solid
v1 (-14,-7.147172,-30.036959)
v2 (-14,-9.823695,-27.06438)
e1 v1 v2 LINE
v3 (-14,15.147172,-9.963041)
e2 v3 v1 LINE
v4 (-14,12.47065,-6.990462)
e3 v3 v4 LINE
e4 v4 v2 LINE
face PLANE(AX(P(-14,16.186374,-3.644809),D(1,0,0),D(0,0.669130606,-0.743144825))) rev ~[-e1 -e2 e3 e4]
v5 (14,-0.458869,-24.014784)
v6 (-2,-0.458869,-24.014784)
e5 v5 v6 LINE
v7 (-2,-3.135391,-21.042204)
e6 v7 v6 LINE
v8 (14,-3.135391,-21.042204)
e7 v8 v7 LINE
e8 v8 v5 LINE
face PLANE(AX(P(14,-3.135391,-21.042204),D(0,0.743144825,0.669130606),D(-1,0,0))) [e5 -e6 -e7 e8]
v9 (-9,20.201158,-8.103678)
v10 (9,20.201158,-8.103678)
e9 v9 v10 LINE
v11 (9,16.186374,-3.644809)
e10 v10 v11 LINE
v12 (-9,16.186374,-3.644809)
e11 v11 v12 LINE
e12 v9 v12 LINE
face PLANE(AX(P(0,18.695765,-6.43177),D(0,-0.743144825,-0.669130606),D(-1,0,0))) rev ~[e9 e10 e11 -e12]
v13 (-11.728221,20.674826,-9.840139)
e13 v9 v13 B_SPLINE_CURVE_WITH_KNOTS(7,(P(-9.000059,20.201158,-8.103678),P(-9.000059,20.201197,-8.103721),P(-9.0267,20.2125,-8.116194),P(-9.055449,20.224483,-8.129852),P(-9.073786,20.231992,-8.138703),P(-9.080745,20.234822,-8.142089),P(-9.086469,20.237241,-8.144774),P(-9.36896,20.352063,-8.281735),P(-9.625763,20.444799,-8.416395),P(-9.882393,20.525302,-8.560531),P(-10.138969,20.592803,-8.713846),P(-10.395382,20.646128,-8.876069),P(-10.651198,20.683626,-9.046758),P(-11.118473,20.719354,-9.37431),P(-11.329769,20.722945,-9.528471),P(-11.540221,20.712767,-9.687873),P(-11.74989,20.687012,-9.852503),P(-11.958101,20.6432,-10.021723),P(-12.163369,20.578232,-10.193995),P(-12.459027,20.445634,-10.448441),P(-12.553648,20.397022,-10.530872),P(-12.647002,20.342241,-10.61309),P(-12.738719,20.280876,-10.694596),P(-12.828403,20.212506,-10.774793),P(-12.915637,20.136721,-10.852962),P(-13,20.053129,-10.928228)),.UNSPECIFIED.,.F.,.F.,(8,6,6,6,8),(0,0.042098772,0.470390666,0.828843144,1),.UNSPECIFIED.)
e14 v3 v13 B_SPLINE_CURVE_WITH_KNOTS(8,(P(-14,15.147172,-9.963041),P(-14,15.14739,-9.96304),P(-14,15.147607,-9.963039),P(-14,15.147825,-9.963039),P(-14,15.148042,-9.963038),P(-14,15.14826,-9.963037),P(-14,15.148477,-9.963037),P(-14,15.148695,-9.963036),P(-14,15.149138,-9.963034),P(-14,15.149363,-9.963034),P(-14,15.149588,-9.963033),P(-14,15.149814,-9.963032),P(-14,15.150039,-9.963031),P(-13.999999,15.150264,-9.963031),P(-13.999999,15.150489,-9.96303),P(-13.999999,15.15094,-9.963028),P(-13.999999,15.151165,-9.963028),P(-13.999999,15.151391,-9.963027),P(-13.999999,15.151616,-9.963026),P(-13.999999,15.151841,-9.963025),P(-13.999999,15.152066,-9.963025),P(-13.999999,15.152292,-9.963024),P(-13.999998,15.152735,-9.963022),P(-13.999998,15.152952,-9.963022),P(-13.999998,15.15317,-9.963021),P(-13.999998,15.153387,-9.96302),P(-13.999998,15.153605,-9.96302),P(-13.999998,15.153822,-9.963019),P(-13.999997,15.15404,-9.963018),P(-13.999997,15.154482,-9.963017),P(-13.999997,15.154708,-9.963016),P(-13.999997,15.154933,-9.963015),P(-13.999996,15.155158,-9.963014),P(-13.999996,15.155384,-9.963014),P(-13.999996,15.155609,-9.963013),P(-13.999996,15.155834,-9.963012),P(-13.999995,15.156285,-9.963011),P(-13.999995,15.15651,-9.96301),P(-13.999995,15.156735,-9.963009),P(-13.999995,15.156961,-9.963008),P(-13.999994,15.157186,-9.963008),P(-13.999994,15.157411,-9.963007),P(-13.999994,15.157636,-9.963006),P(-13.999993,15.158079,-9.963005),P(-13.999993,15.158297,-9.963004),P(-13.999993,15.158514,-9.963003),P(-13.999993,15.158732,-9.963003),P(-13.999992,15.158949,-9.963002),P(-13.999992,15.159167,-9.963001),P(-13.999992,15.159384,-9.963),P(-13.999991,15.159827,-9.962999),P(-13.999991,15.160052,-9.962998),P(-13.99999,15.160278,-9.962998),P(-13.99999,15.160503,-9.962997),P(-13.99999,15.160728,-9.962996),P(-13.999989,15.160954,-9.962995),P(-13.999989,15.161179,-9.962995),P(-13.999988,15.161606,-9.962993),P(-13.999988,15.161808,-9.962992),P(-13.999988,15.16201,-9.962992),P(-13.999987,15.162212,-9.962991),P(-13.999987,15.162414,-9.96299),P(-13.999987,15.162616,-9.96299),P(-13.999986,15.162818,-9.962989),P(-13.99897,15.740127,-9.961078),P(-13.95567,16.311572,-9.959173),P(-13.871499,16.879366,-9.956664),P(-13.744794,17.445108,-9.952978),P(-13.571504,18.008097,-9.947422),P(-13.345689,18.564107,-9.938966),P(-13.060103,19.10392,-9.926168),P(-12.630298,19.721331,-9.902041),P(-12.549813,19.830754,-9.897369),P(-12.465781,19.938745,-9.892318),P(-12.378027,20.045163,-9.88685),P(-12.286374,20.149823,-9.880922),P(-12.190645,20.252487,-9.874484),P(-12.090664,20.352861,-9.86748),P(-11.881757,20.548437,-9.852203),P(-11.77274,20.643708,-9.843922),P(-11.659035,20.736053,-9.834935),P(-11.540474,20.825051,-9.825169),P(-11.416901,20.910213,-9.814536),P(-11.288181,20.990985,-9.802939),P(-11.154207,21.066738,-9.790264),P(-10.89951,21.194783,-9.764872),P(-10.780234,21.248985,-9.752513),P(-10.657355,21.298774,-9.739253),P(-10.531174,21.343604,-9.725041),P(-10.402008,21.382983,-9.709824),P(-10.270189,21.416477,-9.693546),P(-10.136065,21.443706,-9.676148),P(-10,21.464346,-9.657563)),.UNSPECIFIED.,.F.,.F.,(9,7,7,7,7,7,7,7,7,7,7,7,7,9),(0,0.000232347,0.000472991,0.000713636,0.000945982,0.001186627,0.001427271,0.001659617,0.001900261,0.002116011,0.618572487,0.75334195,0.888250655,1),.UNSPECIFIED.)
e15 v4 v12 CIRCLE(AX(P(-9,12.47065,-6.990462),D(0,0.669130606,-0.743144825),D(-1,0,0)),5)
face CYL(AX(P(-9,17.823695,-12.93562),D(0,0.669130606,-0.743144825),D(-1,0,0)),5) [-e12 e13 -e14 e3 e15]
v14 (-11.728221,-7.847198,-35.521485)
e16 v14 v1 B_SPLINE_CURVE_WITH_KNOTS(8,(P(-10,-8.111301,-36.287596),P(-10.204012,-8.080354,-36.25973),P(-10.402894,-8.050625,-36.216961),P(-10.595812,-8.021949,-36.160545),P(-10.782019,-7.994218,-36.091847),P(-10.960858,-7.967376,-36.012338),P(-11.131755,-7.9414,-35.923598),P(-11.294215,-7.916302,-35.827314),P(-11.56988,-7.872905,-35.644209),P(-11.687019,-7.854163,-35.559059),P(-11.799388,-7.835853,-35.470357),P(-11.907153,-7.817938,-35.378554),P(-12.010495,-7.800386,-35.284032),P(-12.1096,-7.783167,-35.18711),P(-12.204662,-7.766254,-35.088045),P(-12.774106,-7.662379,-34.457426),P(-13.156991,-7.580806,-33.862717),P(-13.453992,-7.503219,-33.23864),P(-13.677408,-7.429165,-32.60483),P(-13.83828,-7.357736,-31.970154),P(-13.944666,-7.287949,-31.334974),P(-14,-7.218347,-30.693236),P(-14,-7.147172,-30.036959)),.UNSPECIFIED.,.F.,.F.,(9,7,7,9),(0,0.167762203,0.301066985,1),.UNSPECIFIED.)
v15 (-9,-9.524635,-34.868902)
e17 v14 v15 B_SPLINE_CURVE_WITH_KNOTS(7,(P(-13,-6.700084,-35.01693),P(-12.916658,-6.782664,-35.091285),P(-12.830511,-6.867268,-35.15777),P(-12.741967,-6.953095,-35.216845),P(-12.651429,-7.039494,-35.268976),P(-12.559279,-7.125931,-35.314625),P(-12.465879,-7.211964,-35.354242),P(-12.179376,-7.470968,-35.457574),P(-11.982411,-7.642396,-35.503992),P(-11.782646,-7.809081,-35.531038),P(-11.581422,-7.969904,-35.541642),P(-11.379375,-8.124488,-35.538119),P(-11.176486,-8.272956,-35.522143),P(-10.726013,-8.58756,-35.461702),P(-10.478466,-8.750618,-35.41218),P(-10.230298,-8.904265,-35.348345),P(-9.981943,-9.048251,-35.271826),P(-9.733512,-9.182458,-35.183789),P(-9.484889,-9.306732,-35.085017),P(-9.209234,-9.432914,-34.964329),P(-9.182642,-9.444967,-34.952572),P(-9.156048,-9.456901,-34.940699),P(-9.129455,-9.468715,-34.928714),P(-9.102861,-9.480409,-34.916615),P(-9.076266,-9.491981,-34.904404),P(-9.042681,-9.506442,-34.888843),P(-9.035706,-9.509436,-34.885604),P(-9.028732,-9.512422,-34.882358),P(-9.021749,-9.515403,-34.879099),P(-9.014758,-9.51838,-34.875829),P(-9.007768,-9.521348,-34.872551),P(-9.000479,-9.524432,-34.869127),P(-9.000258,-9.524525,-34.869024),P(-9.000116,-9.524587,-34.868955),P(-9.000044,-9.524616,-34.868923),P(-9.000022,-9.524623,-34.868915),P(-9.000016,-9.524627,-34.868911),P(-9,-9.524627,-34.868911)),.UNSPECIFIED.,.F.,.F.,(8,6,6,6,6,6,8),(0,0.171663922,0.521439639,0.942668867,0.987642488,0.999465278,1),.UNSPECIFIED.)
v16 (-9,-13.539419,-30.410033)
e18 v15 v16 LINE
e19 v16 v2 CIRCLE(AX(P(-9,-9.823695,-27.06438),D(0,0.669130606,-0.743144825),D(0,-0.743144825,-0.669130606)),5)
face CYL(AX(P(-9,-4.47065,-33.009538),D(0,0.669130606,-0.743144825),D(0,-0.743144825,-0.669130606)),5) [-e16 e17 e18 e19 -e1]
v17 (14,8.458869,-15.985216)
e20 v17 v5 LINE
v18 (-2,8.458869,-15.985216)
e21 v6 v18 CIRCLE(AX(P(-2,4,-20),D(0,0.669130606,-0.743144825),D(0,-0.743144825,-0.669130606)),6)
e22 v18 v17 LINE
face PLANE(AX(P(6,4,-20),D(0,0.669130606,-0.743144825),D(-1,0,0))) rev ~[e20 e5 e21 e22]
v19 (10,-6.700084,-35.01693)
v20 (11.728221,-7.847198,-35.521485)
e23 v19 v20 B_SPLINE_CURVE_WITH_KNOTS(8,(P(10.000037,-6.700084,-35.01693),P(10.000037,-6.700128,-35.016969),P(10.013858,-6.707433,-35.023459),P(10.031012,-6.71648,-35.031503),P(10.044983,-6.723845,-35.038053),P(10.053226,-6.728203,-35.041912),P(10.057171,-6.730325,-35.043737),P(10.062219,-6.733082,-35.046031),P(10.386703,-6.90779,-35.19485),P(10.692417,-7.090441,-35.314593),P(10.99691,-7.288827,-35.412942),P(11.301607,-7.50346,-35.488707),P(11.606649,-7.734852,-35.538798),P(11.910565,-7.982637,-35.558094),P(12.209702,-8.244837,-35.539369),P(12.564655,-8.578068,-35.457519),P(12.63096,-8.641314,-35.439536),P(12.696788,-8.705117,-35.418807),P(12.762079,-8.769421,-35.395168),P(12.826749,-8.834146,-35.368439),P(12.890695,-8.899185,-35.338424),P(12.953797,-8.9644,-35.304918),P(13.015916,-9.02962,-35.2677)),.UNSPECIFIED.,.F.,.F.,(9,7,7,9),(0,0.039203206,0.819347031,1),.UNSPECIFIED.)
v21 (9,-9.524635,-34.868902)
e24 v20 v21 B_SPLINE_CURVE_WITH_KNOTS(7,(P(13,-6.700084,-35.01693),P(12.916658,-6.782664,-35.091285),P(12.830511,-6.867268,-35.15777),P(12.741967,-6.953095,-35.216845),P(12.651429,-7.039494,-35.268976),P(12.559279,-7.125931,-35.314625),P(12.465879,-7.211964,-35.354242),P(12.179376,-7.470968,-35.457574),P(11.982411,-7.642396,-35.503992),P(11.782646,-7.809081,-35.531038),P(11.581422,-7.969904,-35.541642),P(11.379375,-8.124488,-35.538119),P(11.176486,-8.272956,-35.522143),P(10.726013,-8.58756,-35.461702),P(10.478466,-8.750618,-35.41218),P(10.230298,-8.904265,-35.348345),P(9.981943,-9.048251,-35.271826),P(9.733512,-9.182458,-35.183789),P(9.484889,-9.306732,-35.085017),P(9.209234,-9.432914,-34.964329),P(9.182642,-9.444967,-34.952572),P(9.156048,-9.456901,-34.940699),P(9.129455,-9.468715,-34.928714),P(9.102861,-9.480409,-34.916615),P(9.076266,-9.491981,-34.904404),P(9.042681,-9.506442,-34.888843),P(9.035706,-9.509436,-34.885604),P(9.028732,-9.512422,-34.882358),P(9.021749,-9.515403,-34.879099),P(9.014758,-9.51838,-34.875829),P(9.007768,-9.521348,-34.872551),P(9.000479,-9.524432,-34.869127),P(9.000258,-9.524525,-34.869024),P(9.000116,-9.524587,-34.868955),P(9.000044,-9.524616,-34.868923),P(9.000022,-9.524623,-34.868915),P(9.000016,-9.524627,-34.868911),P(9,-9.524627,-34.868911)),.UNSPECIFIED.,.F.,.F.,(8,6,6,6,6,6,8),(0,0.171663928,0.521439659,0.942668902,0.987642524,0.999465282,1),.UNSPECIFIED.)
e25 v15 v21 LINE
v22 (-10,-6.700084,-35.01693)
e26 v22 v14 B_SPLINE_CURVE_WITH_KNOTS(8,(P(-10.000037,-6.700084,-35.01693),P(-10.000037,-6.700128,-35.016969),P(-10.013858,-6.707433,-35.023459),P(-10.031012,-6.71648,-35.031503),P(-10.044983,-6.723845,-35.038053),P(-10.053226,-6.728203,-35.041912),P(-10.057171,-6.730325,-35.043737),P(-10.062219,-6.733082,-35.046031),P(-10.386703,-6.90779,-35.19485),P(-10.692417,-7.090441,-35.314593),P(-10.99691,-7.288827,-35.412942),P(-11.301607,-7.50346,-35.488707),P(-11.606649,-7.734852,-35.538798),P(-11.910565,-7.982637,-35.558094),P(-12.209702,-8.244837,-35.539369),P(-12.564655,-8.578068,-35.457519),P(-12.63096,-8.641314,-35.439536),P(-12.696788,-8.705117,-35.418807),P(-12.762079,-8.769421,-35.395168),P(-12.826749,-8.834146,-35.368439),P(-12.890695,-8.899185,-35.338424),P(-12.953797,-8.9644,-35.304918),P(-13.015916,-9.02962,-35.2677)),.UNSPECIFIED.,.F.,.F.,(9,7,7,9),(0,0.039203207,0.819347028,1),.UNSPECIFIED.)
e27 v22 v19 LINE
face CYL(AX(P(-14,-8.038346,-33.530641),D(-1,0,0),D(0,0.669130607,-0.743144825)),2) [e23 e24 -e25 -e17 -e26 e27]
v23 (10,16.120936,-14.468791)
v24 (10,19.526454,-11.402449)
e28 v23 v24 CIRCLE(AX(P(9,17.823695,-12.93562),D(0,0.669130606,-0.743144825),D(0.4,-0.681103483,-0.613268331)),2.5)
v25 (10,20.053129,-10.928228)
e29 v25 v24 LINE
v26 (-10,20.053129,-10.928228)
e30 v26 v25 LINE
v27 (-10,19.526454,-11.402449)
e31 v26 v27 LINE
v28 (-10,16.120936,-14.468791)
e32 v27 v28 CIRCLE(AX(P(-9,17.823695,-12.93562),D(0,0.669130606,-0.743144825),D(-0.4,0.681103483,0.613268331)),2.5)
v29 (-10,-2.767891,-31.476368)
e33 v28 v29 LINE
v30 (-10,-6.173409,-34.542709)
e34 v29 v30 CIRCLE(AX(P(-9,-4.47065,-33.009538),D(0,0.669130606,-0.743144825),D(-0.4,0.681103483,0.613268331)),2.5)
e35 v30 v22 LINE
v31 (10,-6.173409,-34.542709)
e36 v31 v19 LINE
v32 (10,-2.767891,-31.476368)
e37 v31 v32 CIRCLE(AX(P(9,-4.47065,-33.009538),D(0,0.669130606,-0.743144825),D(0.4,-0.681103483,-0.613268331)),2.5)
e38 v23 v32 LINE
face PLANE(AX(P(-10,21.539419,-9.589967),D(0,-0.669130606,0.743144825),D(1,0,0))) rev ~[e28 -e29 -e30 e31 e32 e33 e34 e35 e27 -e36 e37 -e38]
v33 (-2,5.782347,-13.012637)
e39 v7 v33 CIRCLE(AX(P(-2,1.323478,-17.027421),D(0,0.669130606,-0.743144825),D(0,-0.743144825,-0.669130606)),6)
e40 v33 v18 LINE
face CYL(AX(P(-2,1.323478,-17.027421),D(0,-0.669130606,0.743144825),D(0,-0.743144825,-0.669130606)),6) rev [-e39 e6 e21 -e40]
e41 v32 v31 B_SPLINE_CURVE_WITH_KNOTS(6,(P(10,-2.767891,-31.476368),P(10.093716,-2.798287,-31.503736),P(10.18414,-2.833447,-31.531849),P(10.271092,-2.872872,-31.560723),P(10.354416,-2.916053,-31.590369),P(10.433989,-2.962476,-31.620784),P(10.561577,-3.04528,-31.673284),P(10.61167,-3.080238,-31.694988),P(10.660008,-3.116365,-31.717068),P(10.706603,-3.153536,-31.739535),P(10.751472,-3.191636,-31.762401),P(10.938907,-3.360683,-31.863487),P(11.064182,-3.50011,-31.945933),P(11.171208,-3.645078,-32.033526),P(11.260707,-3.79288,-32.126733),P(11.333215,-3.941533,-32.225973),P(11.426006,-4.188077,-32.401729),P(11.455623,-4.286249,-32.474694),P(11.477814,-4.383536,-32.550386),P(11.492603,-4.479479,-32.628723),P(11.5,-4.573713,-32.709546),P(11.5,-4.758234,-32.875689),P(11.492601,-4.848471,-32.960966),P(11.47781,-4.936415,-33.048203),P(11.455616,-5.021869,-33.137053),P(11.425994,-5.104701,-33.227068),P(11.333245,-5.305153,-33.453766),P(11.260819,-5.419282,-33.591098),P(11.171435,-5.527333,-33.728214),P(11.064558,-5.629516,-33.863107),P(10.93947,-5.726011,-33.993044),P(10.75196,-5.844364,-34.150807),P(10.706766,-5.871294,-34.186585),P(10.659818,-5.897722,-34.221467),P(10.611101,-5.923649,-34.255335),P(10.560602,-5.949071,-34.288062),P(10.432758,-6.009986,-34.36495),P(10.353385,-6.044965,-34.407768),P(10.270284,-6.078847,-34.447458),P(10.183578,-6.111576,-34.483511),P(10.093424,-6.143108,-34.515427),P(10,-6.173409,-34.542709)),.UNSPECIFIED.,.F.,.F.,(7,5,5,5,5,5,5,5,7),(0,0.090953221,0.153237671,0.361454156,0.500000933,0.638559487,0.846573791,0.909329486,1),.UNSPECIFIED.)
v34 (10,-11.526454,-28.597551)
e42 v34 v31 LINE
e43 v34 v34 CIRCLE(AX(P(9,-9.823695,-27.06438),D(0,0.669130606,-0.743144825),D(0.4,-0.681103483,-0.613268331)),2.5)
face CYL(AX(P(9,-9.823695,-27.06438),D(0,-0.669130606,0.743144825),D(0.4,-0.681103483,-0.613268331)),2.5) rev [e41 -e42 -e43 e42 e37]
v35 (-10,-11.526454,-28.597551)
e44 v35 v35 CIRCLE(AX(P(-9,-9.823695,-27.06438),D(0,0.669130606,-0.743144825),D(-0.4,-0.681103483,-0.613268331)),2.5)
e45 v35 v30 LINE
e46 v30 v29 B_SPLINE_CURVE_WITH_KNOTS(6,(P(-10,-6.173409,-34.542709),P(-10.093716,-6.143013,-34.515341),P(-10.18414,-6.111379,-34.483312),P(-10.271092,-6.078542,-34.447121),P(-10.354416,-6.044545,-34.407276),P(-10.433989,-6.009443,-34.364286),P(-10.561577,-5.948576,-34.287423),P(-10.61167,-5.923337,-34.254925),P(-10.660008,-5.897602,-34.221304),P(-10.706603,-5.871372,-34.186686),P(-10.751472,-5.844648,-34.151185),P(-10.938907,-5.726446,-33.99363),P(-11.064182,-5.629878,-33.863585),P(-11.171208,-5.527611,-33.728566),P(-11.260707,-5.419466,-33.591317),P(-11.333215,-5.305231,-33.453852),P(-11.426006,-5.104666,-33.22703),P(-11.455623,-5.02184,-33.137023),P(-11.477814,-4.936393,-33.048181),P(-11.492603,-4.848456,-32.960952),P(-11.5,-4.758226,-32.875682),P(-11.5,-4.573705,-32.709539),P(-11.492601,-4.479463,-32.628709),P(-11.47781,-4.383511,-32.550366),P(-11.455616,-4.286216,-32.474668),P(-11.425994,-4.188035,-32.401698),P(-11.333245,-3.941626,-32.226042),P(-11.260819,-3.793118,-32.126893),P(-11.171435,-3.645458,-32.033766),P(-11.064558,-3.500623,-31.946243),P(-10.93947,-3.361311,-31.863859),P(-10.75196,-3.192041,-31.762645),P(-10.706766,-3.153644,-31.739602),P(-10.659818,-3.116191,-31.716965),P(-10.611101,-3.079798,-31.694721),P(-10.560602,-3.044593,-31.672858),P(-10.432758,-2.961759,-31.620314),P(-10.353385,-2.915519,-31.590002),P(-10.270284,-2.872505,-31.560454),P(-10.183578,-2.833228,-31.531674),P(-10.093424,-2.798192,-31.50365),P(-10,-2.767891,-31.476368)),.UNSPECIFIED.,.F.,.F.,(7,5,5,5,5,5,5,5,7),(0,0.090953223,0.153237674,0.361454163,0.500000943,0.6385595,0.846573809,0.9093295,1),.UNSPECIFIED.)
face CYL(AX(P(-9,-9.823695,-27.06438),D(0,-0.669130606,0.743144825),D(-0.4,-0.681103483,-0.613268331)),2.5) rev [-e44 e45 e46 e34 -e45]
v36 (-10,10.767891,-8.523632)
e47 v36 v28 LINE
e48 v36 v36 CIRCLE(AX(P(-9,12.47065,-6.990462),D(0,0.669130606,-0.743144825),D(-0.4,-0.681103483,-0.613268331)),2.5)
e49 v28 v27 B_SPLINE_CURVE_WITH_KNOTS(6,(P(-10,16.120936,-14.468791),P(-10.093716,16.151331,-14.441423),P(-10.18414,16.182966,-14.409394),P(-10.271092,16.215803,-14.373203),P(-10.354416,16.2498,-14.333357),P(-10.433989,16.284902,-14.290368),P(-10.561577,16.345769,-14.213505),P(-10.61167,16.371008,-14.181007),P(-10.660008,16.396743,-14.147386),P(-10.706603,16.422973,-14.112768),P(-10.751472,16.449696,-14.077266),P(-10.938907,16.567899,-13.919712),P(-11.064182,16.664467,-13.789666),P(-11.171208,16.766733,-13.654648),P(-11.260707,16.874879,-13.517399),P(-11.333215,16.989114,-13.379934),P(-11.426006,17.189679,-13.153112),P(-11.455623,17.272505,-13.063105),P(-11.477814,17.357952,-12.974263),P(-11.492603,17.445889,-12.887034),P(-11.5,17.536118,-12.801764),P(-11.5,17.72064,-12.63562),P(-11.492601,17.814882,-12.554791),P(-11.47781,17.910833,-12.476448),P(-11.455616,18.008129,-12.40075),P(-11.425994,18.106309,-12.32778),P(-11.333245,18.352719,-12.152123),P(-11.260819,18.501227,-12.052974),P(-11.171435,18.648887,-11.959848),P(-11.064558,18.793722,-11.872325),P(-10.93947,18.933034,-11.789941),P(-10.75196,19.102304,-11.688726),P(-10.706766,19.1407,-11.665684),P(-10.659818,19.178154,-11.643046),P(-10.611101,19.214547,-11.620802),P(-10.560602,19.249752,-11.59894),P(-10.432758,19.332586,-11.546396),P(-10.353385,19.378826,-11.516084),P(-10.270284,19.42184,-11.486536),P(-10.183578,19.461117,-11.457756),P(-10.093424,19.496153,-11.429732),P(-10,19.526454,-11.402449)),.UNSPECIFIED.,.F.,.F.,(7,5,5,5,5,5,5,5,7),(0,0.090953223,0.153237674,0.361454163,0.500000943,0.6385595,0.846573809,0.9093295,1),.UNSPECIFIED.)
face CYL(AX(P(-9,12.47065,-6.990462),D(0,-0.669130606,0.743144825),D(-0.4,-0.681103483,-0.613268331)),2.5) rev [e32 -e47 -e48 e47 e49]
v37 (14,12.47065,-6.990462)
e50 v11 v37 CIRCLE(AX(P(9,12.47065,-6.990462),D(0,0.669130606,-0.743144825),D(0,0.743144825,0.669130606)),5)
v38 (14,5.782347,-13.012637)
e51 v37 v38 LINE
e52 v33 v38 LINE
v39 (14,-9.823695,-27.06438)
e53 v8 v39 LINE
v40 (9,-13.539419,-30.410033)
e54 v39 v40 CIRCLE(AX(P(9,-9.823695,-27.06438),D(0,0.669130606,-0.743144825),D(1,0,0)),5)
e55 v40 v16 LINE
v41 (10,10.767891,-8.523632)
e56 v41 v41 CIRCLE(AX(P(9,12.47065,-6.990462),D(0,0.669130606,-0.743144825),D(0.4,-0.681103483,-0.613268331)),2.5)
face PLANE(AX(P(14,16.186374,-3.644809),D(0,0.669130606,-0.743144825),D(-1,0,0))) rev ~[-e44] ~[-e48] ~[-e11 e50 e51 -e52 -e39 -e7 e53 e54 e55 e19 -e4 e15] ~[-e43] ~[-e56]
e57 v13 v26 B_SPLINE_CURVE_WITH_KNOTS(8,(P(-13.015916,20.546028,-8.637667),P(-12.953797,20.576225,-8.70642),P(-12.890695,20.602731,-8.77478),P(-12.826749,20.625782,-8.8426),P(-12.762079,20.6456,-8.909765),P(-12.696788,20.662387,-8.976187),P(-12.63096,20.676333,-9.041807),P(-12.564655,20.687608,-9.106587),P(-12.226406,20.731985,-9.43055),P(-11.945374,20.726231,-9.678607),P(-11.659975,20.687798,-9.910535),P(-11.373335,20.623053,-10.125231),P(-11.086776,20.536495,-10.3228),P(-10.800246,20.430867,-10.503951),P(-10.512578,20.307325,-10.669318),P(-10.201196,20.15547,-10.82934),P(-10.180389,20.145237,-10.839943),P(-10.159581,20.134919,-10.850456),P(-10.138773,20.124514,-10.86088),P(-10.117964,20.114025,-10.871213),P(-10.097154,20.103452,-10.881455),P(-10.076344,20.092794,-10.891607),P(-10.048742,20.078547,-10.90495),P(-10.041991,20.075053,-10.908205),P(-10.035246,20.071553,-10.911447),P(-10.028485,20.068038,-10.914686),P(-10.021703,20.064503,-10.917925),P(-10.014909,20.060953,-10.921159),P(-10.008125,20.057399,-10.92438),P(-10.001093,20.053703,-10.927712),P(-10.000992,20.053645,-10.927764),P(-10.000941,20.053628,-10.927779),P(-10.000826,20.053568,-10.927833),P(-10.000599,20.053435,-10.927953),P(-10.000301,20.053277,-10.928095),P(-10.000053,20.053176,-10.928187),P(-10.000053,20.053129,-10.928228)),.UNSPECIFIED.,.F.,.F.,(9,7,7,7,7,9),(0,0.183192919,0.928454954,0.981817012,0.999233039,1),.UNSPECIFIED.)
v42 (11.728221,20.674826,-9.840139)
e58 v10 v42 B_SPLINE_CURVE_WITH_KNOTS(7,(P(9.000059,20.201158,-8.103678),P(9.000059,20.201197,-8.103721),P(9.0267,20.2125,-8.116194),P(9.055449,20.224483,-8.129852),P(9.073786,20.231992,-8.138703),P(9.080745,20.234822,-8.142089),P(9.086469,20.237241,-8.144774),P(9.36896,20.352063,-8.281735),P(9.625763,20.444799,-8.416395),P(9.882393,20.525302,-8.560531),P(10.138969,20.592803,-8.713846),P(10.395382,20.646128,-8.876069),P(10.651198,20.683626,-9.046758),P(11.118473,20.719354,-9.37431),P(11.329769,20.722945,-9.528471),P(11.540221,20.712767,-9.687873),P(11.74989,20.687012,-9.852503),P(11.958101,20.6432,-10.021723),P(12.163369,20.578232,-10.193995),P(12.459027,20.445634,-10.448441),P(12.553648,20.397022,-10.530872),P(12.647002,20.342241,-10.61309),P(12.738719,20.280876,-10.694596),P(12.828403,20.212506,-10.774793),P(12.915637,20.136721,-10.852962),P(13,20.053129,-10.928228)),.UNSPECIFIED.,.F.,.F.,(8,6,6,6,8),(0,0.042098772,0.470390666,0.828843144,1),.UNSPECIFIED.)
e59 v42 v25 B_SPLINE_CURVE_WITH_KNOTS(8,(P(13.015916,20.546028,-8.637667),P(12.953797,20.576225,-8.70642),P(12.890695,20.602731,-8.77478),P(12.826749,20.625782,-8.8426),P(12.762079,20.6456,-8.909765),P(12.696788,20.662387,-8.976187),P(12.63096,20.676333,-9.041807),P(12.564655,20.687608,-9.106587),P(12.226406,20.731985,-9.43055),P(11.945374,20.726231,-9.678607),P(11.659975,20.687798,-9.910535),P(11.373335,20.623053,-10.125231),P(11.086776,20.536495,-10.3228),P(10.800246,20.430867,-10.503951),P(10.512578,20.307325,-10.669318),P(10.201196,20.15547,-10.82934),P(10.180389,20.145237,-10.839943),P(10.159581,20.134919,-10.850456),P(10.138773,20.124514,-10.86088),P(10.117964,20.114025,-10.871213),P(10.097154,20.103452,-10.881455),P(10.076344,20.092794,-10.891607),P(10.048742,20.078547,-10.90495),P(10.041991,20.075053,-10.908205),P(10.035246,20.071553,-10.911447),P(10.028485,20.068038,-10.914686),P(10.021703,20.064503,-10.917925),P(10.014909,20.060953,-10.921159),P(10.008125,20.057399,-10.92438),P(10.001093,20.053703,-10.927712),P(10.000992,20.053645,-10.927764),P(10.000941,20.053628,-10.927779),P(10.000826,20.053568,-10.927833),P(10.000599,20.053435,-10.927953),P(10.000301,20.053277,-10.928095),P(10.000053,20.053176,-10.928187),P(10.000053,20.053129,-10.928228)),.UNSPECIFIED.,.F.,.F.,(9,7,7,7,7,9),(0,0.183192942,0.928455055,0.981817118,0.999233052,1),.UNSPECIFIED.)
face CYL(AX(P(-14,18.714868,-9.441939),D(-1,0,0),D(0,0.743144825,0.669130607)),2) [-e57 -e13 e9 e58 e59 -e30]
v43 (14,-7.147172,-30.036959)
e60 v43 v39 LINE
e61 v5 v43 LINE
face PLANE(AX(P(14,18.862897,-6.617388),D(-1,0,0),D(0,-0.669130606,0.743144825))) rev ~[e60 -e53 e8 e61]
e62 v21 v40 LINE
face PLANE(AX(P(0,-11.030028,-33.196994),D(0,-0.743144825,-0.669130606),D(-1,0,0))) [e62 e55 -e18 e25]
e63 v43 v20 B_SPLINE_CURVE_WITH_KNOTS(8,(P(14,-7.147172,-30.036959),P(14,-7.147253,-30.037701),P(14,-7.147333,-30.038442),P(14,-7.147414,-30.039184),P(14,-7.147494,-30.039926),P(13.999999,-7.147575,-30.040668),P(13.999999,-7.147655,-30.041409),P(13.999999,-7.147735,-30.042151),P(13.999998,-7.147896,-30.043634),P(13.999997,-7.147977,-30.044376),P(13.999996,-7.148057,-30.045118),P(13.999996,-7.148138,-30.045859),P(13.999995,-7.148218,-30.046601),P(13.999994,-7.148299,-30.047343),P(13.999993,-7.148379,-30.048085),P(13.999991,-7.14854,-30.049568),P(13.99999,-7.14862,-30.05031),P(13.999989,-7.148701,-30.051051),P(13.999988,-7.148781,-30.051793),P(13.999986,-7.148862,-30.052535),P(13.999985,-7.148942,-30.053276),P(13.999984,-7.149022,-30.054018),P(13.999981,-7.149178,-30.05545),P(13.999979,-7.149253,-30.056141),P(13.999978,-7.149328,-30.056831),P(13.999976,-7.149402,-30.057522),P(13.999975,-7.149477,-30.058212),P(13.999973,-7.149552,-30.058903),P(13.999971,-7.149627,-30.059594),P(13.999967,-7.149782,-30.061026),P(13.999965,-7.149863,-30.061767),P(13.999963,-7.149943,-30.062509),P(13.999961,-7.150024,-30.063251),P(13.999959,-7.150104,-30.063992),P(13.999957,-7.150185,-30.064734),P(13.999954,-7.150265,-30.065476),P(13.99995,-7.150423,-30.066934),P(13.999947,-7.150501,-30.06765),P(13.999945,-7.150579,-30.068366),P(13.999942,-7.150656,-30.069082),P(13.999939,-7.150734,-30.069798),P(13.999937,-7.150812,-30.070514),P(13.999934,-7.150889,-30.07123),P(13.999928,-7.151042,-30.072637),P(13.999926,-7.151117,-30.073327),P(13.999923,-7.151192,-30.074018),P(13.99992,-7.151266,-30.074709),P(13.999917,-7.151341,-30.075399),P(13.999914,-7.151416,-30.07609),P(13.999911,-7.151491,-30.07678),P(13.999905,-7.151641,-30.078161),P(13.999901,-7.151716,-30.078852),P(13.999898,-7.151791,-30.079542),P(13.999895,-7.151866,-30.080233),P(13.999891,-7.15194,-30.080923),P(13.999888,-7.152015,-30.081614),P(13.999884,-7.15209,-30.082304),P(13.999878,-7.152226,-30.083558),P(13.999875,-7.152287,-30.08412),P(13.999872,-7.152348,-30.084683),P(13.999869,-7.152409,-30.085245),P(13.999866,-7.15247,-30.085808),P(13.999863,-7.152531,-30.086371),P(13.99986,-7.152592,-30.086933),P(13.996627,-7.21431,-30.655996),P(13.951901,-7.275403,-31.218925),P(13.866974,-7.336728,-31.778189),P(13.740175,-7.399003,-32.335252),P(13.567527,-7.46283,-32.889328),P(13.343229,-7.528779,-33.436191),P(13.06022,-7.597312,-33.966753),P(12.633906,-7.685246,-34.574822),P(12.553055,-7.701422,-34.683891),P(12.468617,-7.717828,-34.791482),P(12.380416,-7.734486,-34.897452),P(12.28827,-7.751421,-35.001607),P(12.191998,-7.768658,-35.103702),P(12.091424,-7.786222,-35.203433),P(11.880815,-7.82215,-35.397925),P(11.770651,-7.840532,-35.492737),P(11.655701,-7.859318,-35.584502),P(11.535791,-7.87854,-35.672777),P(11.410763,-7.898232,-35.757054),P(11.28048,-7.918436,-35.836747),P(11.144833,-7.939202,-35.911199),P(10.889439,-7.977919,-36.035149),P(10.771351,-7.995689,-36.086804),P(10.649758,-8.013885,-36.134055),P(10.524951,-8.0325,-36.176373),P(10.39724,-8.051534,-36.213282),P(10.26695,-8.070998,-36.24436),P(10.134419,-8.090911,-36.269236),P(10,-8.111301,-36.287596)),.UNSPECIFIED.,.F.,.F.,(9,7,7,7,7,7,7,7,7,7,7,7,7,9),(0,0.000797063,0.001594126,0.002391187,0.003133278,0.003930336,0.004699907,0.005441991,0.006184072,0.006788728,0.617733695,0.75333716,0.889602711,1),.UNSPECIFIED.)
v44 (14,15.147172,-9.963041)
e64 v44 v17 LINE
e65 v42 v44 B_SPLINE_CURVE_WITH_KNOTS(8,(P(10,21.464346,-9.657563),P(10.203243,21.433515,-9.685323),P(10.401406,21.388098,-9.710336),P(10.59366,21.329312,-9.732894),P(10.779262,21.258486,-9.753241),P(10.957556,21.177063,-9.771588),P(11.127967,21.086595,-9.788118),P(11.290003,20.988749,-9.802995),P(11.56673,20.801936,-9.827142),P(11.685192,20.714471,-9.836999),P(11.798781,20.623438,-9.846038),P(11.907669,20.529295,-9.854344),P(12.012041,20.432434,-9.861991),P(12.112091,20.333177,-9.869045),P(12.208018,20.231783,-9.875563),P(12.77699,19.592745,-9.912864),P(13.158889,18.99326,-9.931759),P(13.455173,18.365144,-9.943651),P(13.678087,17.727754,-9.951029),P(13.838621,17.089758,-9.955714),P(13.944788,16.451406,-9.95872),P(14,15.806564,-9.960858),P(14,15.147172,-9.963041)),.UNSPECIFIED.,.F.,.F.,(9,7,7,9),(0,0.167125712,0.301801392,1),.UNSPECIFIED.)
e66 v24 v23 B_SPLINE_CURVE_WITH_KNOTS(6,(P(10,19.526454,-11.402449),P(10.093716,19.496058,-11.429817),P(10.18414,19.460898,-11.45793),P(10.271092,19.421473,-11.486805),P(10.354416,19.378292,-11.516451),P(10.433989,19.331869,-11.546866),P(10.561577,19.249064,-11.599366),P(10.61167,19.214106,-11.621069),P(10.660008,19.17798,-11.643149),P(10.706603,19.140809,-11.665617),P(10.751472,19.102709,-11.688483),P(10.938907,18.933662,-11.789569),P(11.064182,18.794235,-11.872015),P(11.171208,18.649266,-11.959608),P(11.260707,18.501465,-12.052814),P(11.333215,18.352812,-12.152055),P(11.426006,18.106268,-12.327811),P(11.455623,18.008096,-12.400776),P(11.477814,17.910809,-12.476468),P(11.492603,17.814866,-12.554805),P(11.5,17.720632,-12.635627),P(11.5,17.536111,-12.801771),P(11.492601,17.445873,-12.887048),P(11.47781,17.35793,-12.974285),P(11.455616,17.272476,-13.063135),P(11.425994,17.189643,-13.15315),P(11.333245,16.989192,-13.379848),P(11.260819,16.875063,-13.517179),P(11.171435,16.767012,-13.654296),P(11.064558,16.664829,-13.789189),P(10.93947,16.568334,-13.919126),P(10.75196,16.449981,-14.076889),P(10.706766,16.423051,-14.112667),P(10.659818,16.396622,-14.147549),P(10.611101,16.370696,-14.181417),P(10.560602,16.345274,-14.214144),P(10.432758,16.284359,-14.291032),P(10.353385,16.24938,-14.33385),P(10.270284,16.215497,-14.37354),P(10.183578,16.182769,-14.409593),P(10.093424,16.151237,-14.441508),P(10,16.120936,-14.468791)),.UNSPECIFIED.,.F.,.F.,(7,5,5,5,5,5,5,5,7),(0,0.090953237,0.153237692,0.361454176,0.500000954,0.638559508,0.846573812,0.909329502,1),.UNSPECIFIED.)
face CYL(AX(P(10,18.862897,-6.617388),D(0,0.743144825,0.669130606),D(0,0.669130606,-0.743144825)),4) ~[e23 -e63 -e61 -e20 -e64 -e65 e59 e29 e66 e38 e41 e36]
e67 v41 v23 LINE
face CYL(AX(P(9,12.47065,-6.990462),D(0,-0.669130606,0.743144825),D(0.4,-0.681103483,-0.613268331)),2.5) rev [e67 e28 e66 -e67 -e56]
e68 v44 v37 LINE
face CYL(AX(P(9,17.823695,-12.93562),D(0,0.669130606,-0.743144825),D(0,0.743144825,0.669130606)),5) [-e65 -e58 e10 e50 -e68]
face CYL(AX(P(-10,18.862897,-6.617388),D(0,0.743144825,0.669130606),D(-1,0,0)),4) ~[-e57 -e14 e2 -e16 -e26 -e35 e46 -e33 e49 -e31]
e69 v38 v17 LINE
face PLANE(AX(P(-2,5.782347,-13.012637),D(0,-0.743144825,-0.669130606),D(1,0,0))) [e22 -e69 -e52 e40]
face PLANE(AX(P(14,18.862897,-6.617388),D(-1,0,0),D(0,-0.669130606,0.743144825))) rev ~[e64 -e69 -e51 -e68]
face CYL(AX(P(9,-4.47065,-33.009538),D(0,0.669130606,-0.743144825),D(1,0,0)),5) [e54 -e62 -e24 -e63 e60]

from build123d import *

# Parameters (mm, degrees)
EXTRUDE_1_DEPTH     = 40
SKETCH_3_R          = 2.5
CUT_EXTRUDE_1_DEPTH = 44.127717306
SKETCH_5_OUTSIDE_W  = 39.896
SKETCH_5_OUTSIDE_H  = 51.896
CUT_EXTRUDE_3_DEPTH = 44.127717449
CUT_EXTRUDE_4_DEPTH = 4
MOVE_BODY_1_ANGLE   = 48
SKETCH_7_OUTSIDE_W  = 45.818
SKETCH_7_OUTSIDE_H  = 48.186
CUT_EXTRUDE_6_DEPTH = 50


with BuildPart() as part:
    # 草图2 → 凸台-拉伸1 (new body)
    with BuildSketch(Plane.XY):
        with BuildLine():
            Line((14, 0), (-14, 0))
            Line((-14, 0), (-14, 4))
            ThreePointArc((-14, 4), (-12.828427125, 6.828427125), (-10, 8))
            Line((-10, 8), (10, 8))
            ThreePointArc((10, 8), (12.828427125, 6.828427125), (14, 4))
            Line((14, 4), (14, 0))
        make_face()
    extrude(amount=-EXTRUDE_1_DEPTH)

    # 草图3 → 切除-拉伸1 (cut, through all)
    with BuildSketch(Plane(origin=(0, 0, 0), x_dir=(1, 0, 0), z_dir=(0, 1, 0))):
        with Locations(Location((-9, 35, 0), (0, 0, 113.578178478))):
            Circle(SKETCH_3_R)
        with Locations(Location((9, 35, 0), (0, 0, 66.421821522))):
            Circle(SKETCH_3_R)
        with Locations(Location((-9, 5, 0), (0, 0, 113.578178478))):
            Circle(SKETCH_3_R)
        with Locations(Location((9, 5, 0), (0, 0, 66.421821522))):
            Circle(SKETCH_3_R)
    extrude(amount=CUT_EXTRUDE_1_DEPTH, mode=Mode.SUBTRACT)

    # 草图5 outside → 切除-拉伸3 (cut, through all)
    with BuildSketch(Plane(origin=(0, 8, 0), x_dir=(1, 0, 0), z_dir=(0, 1, 0))):
        with Locations((0, 20)):
            Rectangle(SKETCH_5_OUTSIDE_W, SKETCH_5_OUTSIDE_H)
        with BuildLine():
            Line((14, 5), (14, 35))
            ThreePointArc((14, 35), (12.535533906, 38.535533906), (9, 40))
            Line((9, 40), (-9, 40))
            ThreePointArc((-9, 40), (-12.535533906, 38.535533906), (-14, 35))
            Line((-14, 35), (-14, 5))
            ThreePointArc((-14, 5), (-12.535533906, 1.464466094), (-9, 0))
            Line((-9, 0), (9, 0))
            ThreePointArc((9, 0), (12.535533906, 1.464466094), (14, 5))
        make_face(mode=Mode.SUBTRACT)
    extrude(amount=-CUT_EXTRUDE_3_DEPTH, mode=Mode.SUBTRACT)

    # 草图6 → 切除-拉伸4 (cut)
    with BuildSketch(Plane.XZ):
        with BuildLine():
            Line((14, -26), (-2, -26))
            ThreePointArc((-2, -26), (-8, -20), (-2, -14))
            Line((-2, -14), (14, -14))
            ThreePointArc((14, -14), (20, -20), (14, -26))
        make_face()
    extrude(amount=-CUT_EXTRUDE_4_DEPTH, mode=Mode.SUBTRACT)


with BuildPart() as part_1:
    # Move Body 1: moved
    add(part.part.rotate(Axis((0, 4, -20), (-1, 0, 0)), MOVE_BODY_1_ANGLE))

    # 草图7 outside → 切除-拉伸6 (cut)
    with BuildSketch(Plane.ZY.offset(14)):
        with Locations((-20, 4)):
            Rectangle(SKETCH_7_OUTSIDE_W, SKETCH_7_OUTSIDE_H)
        with BuildLine():
            Line((-6.990461603, 12.470649957), (-3.644808571, 16.186374084))
            Line((-3.644808571, 16.186374084), (-8.103677524, 20.201157722))
            ThreePointArc((-8.103677524, 20.201157722), (-9.546610649, 20.712127141), (-10.928228387, 20.053129284))
            Line((-10.928228387, 20.053129284), (-11.40244938, 19.526453515))
            Line((-11.40244938, 19.526453515), (-14.468791033, 16.1209361))
            Line((-14.468791033, 16.1209361), (-31.476367571, -2.767891249))
            Line((-31.476367571, -2.767891249), (-34.542709224, -6.173408664))
            Line((-34.542709224, -6.173408664), (-35.016930216, -6.700084433))
            ThreePointArc((-35.016930216, -6.700084433), (-35.527899635, -8.143017558), (-34.868901778, -9.524635297))
            Line((-34.868901778, -9.524635297), (-30.410032825, -13.539418935))
            Line((-30.410032825, -13.539418935), (-27.064379793, -9.823694808))
            Line((-27.064379793, -9.823694808), (-6.990461603, 12.470649957))
        make_face(mode=Mode.SUBTRACT)
    extrude(amount=-CUT_EXTRUDE_6_DEPTH, mode=Mode.SUBTRACT)


solid = part_1.part
